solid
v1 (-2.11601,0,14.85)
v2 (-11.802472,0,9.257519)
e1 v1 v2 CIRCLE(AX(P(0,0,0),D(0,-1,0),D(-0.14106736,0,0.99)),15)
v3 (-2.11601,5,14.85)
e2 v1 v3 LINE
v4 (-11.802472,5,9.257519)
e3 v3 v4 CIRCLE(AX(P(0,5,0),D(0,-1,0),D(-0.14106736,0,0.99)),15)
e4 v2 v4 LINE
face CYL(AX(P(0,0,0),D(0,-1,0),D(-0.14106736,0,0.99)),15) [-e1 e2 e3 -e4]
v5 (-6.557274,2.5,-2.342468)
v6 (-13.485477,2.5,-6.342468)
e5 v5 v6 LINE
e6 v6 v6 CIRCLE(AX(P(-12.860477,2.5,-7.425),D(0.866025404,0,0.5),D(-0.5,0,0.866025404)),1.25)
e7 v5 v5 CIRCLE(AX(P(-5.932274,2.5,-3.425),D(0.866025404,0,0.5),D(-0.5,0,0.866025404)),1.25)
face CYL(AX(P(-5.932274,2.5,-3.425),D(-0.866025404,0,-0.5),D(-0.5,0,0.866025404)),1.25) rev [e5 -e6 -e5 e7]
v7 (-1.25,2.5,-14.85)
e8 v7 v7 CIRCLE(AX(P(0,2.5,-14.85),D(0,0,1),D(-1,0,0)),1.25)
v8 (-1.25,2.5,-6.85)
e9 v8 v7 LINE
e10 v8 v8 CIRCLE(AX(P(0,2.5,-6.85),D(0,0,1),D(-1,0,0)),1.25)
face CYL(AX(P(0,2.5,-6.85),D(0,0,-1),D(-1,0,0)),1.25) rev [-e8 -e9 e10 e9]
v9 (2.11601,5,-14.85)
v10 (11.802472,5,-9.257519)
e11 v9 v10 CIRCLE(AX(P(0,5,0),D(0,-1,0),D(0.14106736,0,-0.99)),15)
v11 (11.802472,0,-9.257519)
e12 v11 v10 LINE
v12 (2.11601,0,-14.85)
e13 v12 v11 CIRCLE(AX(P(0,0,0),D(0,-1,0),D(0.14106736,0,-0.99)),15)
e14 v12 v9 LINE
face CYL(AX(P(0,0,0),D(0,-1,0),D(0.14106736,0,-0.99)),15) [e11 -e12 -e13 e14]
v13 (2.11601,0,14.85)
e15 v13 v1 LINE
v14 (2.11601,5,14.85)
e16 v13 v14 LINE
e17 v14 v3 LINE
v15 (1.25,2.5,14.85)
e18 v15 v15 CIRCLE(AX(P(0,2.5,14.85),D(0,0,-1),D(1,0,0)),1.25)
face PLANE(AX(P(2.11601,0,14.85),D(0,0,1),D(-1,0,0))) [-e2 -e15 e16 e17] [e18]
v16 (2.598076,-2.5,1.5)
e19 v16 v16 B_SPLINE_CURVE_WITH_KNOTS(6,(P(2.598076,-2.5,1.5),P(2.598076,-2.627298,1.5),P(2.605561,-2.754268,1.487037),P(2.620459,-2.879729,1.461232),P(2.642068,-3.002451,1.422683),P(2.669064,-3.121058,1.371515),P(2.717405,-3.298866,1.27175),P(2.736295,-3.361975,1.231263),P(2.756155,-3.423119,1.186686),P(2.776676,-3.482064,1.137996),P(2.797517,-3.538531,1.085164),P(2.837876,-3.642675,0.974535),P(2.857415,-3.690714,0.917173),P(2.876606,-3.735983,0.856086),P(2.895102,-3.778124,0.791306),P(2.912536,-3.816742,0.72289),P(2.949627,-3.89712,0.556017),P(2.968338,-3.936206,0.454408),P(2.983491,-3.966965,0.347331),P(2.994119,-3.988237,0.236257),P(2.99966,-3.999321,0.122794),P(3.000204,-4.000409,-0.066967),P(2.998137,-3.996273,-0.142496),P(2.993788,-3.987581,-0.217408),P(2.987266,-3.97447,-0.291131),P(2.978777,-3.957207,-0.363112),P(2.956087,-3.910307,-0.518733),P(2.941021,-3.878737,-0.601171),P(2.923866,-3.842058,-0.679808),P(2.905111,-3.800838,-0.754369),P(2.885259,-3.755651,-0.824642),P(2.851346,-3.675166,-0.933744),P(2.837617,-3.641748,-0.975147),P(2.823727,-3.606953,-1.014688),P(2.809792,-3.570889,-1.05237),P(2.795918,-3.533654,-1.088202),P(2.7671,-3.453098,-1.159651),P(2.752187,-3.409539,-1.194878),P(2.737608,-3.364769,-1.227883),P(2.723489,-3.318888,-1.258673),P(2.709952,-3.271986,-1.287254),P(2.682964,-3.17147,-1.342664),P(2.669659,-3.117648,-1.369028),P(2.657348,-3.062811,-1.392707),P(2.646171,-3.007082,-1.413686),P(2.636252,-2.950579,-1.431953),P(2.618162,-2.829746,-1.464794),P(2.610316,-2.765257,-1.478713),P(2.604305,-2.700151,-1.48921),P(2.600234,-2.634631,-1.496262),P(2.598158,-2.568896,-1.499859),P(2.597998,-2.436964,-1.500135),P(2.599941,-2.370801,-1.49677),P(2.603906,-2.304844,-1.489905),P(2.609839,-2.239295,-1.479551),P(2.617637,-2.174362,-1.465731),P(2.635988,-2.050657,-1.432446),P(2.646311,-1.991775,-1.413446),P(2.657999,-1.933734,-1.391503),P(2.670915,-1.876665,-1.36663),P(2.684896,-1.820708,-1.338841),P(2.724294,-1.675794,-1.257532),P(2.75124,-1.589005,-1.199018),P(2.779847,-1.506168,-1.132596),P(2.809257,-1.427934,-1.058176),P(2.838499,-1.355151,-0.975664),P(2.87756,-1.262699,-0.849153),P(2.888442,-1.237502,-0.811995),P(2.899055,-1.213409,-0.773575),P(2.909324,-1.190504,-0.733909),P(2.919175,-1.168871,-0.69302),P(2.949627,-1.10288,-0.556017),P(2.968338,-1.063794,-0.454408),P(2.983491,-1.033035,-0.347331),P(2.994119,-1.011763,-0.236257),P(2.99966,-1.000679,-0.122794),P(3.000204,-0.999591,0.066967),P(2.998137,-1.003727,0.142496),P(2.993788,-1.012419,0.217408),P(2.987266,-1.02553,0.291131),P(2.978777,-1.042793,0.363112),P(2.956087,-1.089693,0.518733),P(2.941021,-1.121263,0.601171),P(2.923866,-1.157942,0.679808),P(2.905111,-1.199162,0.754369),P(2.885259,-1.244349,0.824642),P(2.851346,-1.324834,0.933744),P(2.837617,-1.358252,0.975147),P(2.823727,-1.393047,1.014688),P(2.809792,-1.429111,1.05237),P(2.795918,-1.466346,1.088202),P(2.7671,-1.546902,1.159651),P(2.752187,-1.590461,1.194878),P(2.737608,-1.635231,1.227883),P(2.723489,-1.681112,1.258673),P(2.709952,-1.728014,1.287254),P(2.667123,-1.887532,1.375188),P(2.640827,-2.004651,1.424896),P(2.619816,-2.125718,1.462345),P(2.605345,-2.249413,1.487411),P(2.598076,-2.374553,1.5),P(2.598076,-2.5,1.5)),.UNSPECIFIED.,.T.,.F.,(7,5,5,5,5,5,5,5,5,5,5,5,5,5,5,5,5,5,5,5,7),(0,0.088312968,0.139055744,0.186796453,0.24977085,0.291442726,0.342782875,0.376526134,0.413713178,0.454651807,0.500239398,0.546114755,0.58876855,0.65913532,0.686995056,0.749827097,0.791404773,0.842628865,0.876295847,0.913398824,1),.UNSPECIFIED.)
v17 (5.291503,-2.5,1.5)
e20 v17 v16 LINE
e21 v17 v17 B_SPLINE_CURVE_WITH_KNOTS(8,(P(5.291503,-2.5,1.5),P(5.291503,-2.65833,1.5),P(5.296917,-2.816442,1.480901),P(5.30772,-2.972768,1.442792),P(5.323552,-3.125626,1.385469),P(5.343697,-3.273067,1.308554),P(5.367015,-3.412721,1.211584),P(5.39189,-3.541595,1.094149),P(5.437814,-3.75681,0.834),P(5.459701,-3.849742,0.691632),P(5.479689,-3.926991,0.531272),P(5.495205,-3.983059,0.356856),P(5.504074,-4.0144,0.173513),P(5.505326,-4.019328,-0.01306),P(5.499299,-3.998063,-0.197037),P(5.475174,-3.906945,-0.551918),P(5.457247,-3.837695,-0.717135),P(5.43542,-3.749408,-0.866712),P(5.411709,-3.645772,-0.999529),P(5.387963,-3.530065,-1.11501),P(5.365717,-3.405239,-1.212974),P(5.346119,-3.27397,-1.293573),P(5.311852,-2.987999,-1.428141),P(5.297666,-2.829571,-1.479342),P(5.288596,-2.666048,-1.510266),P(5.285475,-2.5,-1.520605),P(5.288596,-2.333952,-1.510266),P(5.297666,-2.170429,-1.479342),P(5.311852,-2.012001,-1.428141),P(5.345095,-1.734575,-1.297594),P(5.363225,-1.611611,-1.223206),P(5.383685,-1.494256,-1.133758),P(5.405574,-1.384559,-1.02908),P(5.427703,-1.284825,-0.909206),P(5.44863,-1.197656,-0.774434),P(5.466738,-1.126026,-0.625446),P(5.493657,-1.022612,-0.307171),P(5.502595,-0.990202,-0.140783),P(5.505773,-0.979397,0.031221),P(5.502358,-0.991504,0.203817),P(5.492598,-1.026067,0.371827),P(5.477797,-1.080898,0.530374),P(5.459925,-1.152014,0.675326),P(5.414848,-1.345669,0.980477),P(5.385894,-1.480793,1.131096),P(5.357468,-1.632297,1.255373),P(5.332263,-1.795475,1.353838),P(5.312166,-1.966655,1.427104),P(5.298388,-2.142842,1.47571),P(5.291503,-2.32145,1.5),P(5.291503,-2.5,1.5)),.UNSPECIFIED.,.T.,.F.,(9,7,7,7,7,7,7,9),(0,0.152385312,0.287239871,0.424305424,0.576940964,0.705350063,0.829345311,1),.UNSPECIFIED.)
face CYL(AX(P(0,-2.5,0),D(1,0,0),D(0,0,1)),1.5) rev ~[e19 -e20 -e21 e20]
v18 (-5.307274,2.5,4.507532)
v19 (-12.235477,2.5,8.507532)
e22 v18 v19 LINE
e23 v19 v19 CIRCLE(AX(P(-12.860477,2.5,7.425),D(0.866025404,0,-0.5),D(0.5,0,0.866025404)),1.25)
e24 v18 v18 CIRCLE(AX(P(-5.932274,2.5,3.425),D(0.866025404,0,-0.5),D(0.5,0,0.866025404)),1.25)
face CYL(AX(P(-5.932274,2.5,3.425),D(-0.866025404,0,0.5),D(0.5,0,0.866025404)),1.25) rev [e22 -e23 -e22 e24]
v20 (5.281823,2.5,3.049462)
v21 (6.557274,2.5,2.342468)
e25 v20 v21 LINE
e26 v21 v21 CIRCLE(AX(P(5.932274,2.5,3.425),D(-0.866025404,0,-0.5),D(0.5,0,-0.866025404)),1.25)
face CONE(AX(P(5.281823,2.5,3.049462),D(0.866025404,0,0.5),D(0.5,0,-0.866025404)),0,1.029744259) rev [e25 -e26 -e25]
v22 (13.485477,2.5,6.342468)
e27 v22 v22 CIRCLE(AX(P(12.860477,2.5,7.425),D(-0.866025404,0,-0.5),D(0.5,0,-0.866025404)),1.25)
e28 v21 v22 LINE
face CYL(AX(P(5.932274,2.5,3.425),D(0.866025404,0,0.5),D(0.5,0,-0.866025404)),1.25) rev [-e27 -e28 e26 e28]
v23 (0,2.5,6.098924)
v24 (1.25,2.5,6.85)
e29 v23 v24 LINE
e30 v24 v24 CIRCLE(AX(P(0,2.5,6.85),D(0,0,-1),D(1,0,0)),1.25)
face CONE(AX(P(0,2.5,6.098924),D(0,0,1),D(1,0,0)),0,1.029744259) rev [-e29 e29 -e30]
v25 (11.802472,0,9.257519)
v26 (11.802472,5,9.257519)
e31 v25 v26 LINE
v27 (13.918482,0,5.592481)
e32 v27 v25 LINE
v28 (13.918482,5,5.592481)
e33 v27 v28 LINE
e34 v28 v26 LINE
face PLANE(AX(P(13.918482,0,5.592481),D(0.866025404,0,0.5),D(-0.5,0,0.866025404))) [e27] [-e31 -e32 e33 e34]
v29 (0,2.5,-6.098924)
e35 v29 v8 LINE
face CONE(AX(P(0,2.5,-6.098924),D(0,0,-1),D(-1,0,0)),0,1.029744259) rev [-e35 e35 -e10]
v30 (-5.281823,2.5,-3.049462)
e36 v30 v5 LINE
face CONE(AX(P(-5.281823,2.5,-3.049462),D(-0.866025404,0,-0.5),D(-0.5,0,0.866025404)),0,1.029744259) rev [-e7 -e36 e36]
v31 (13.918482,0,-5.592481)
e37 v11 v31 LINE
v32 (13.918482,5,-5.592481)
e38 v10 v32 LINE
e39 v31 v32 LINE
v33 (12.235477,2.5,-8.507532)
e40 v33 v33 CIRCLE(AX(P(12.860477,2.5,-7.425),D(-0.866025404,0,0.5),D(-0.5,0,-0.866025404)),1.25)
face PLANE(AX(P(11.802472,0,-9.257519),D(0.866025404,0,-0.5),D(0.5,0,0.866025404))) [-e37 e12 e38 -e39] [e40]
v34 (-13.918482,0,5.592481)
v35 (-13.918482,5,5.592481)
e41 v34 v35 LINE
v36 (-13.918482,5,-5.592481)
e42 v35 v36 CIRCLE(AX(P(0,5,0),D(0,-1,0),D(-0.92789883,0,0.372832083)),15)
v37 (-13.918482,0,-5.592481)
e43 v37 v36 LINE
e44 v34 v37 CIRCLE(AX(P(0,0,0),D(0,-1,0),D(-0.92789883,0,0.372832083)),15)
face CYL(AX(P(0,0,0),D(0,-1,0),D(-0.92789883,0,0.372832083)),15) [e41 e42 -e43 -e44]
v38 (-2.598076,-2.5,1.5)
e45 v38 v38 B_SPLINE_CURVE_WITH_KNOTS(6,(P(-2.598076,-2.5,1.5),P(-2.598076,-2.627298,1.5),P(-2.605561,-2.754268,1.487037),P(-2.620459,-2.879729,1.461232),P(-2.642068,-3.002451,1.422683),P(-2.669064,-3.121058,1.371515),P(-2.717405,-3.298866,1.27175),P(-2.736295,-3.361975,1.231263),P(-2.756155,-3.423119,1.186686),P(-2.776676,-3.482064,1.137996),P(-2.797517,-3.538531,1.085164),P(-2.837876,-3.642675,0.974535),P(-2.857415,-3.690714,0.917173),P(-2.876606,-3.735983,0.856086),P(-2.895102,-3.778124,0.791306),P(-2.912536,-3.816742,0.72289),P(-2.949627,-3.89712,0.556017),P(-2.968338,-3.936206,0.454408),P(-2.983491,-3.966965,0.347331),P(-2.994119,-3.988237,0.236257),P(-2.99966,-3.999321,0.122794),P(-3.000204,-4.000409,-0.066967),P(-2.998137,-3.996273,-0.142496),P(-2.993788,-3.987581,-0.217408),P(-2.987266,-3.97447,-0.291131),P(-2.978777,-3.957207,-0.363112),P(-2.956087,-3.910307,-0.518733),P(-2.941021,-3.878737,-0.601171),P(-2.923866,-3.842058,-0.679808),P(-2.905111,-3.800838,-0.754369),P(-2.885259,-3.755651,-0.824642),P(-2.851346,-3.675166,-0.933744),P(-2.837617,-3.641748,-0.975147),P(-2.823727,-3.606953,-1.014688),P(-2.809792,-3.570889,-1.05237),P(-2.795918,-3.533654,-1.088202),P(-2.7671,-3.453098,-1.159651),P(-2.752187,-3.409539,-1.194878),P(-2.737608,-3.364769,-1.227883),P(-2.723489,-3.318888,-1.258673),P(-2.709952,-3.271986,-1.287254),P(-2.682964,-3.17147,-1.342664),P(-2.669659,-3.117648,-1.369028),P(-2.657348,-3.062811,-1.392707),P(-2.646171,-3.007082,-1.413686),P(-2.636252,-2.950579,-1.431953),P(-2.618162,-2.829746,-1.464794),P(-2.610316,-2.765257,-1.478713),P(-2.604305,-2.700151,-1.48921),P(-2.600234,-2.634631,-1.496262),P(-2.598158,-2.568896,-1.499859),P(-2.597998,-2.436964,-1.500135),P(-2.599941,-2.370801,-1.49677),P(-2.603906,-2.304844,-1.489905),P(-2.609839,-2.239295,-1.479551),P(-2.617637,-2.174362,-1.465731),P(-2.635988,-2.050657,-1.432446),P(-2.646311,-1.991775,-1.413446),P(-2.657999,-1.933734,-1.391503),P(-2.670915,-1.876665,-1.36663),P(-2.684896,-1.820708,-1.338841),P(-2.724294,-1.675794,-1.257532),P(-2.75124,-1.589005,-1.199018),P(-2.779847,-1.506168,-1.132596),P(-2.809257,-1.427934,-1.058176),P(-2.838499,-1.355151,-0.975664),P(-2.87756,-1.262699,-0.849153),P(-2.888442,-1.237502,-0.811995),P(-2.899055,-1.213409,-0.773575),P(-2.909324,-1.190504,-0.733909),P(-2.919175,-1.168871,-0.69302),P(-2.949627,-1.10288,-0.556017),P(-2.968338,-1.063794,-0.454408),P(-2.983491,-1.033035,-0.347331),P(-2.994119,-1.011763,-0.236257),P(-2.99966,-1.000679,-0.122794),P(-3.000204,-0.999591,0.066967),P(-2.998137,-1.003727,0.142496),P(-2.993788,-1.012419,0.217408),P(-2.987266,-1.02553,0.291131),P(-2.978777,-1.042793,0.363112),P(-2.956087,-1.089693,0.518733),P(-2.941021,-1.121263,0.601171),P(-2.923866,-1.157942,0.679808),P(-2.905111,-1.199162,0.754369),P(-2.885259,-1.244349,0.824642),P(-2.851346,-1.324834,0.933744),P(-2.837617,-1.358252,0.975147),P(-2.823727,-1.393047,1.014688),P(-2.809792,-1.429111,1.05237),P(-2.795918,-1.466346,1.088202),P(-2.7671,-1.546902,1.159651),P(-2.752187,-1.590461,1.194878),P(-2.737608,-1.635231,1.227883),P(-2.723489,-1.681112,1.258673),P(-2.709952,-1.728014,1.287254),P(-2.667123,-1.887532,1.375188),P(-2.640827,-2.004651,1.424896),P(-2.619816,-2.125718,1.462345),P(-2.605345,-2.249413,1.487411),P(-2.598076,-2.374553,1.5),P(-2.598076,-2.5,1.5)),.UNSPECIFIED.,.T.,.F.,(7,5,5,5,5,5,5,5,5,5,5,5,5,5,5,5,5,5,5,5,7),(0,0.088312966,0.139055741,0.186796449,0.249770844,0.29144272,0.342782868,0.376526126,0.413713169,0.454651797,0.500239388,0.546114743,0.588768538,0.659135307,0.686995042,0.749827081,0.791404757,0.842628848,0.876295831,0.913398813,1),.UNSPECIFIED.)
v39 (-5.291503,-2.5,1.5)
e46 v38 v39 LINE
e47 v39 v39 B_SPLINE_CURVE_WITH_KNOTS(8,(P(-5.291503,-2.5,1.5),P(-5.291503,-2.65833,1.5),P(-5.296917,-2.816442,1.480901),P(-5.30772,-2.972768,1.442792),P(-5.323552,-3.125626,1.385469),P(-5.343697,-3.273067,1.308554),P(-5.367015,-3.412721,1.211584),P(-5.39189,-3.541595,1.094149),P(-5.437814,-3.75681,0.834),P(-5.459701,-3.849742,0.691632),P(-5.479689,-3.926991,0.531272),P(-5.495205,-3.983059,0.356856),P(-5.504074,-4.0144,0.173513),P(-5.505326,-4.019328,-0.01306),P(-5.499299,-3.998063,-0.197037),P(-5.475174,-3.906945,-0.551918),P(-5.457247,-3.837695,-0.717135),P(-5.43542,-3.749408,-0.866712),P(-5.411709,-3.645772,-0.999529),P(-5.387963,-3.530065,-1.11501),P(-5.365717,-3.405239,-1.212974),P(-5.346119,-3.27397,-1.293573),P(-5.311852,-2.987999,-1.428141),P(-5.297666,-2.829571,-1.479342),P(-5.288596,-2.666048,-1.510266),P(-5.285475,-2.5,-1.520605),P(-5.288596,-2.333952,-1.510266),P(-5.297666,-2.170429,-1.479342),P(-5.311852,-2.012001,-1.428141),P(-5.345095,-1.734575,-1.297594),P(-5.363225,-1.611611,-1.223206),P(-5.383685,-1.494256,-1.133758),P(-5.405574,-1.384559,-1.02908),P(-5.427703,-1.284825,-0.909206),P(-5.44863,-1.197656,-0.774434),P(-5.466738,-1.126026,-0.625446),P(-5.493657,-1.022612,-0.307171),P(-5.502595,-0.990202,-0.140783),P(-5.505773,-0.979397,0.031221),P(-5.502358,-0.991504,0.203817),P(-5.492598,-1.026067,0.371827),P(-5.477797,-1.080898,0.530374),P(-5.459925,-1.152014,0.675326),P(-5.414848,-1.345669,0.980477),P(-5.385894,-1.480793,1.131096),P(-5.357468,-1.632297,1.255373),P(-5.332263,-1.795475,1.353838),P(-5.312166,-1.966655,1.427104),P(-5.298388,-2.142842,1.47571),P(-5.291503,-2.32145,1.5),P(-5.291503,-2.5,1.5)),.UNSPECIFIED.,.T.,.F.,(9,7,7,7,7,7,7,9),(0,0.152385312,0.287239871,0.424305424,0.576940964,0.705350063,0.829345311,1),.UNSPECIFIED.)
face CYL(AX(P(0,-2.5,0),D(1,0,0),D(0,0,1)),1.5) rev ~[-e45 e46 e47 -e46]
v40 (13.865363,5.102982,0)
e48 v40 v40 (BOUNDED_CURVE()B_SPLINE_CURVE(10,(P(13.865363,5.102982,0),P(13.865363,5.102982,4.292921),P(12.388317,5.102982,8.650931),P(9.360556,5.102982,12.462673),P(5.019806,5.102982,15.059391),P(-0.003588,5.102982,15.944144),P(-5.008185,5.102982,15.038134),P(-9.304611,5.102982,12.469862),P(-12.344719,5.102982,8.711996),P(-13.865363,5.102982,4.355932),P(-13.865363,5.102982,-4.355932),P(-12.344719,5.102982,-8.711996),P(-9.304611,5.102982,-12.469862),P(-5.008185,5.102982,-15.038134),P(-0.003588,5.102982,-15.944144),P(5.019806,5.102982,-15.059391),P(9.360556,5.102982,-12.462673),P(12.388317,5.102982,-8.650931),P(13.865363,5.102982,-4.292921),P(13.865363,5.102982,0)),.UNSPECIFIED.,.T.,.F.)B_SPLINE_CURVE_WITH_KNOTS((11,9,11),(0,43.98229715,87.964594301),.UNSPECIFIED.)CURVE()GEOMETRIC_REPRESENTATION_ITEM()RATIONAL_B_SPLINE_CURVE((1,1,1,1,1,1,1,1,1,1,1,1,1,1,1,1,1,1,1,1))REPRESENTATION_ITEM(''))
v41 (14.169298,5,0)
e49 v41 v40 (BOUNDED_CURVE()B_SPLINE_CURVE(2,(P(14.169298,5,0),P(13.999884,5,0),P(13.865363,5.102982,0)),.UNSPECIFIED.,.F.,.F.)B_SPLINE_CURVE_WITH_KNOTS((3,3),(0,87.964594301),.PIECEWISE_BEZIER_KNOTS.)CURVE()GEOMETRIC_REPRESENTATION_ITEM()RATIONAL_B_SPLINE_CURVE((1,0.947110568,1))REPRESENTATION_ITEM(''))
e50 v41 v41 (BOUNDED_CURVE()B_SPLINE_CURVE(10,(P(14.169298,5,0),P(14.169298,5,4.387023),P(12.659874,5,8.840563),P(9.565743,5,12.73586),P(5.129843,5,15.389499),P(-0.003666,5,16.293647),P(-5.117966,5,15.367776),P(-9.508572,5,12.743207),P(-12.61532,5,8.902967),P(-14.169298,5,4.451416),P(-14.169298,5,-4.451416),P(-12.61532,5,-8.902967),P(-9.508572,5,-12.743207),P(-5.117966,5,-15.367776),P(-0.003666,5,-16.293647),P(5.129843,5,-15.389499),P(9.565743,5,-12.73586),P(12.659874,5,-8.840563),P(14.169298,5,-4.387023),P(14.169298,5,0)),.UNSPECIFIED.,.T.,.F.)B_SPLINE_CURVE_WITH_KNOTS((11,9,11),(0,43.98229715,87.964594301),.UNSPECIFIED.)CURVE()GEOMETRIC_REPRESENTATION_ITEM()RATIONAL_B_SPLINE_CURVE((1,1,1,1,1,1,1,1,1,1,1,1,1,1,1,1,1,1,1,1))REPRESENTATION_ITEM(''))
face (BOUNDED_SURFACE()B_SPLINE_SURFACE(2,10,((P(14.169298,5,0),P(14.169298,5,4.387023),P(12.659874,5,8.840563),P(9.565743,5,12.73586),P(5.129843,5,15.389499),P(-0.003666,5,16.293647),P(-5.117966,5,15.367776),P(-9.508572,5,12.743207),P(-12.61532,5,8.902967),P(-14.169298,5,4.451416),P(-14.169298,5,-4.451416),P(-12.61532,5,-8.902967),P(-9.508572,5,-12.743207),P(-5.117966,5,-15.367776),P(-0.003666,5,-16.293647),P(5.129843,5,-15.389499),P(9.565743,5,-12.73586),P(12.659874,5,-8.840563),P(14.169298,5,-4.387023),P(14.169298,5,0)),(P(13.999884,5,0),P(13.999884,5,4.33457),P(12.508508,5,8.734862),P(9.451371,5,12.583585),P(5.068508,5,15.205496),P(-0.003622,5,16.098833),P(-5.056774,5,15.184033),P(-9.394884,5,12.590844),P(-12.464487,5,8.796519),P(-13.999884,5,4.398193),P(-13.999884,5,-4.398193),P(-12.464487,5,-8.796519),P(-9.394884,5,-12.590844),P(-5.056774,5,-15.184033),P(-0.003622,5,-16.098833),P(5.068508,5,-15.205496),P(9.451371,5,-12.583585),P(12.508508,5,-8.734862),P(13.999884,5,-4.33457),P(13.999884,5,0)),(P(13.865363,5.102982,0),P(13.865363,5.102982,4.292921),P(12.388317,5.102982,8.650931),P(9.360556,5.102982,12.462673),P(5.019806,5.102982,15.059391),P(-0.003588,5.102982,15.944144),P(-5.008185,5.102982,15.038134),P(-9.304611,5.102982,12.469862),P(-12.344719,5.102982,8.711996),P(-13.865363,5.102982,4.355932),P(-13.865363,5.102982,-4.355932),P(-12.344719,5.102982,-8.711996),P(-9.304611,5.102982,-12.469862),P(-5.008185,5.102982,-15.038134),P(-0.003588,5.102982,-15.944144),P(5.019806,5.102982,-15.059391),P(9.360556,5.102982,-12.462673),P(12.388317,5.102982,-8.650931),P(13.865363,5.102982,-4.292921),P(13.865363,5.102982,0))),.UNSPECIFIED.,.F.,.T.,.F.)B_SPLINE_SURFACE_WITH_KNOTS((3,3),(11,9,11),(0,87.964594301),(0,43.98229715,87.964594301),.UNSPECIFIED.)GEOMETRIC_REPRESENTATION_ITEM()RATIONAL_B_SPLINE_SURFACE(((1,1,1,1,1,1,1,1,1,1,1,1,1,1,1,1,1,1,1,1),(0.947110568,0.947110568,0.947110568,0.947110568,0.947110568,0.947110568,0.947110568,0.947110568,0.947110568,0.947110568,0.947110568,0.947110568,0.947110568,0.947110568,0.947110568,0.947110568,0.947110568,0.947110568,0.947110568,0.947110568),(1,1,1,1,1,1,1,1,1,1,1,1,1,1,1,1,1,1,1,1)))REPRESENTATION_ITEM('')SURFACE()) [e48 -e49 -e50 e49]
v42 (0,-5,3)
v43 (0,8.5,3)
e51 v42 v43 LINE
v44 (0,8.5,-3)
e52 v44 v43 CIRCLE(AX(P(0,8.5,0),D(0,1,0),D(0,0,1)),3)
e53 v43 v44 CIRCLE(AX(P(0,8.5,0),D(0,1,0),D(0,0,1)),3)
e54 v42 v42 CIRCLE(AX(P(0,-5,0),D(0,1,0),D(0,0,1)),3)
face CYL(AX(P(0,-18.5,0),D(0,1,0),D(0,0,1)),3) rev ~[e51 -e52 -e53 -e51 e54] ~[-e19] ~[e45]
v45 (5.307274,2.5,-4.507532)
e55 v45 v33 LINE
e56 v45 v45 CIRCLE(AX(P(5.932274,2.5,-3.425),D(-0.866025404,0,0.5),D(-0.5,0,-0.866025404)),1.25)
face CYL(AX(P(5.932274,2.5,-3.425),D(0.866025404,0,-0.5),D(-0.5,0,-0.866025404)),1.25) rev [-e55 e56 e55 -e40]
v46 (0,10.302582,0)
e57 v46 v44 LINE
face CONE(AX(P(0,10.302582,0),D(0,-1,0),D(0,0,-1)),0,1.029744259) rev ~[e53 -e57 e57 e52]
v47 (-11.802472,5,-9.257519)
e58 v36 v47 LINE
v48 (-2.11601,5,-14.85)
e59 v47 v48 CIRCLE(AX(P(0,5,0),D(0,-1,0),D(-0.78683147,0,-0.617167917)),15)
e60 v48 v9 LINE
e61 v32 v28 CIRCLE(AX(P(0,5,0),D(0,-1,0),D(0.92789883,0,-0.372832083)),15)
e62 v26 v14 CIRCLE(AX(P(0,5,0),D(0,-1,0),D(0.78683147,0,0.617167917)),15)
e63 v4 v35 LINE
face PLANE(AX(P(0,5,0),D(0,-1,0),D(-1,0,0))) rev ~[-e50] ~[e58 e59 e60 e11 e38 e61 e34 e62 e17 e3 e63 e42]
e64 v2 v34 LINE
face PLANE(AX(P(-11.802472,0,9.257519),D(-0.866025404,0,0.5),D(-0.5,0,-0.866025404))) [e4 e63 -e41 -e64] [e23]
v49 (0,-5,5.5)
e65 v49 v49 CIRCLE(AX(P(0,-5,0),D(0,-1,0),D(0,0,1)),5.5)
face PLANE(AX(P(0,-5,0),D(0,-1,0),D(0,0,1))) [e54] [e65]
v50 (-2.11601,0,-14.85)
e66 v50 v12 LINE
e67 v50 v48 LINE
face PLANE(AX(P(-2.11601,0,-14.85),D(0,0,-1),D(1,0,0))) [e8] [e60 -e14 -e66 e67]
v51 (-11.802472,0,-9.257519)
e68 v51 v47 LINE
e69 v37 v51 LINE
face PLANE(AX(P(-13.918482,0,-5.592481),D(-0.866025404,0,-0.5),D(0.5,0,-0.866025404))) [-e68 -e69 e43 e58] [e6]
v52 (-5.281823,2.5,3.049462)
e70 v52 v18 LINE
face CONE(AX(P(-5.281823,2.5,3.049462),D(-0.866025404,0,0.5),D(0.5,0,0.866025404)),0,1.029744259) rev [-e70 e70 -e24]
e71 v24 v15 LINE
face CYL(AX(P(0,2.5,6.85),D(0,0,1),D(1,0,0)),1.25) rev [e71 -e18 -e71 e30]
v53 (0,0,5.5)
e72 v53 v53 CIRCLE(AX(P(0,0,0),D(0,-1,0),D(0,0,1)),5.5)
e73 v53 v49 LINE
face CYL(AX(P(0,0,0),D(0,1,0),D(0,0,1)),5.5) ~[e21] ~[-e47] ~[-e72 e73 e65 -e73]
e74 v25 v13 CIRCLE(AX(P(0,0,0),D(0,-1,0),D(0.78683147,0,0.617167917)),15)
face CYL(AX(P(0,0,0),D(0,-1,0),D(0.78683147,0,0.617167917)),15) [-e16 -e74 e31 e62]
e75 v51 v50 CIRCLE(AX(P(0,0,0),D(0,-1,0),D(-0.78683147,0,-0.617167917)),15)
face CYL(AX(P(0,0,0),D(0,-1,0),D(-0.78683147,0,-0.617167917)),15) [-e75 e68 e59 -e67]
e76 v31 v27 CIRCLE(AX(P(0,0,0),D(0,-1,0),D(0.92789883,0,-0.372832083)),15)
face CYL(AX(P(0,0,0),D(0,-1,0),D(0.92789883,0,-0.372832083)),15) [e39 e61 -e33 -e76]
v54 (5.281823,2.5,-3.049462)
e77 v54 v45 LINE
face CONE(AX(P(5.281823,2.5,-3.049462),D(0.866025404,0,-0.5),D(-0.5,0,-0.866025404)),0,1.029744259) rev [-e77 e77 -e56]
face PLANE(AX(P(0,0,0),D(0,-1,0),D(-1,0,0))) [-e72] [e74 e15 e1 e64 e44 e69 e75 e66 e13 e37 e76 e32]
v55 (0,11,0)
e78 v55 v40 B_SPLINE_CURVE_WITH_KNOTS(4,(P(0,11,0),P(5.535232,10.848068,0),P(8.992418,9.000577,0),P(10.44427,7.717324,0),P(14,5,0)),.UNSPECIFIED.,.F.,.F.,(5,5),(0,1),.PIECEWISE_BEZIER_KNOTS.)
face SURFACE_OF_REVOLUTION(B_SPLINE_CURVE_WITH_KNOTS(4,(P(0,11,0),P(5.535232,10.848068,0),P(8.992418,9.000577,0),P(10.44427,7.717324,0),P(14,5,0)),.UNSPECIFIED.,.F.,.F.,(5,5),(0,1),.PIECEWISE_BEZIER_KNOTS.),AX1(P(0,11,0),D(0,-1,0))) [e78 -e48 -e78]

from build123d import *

# Parameters (mm, degrees)
EXTRUDE_1_DEPTH                         = 5
SKETCH_3_R                              = 5.5
EXTRUDE_2_DEPTH                         = 5
CUT_EXTRUDE_1083_REACH                  = 23.692
CUT_EXTRUDE_1083_END_RADIUS             = 5.5
SKETCH_6_R                              = 1.5
CUT_EXTRUDE_1083_DIRECTION_2_REACH      = 23.692
CUT_EXTRUDE_1083_DIRECTION_2_END_RADIUS = 5.5
FILLET_1_R                              = 0.5
PATTERN_CIRCULAR_1_COUNT                = 6
HOLE_WIZARD_6_0_6_1_D                   = 6
HOLE_WIZARD_6_0_6_1_DEPTH               = 13.5
HOLE_WIZARD_6_0_6_1_TIP                 = 1.802581857


with BuildPart() as part:
    # 草图1 → 凸台-拉伸1 (new body)
    with BuildSketch(Plane(origin=(0, 0, 0), x_dir=(1, 0, 0), z_dir=(0, 1, 0))):
        with BuildLine():
            Line((11.802472048, 9.257518758), (13.918482445, 5.592481242))
            ThreePointArc((13.918482445, 5.592481242), (15, 0), (13.918482445, -5.592481242))
            Line((13.918482445, -5.592481242), (11.802472048, -9.257518758))
            ThreePointArc((11.802472048, -9.257518758), (7.5, -12.990381057), (2.116010397, -14.85))
            Line((2.116010397, -14.85), (-2.116010397, -14.85))
            ThreePointArc((-2.116010397, -14.85), (-7.5, -12.990381057), (-11.802472048, -9.257518758))
            Line((-11.802472048, -9.257518758), (-13.918482445, -5.592481242))
            ThreePointArc((-13.918482445, -5.592481242), (-15, 0), (-13.918482445, 5.592481242))
            Line((-13.918482445, 5.592481242), (-11.802472048, 9.257518758))
            ThreePointArc((-11.802472048, 9.257518758), (-7.5, 12.990381057), (-2.116010397, 14.85))
            Line((-2.116010397, 14.85), (2.116010397, 14.85))
            ThreePointArc((2.116010397, 14.85), (7.5, 12.990381057), (11.802472048, 9.257518758))
        make_face()
    extrude(amount=EXTRUDE_1_DEPTH)

    # 草图3 → 凸台-拉伸2 (add)
    with BuildSketch(Plane.XZ):
        with Locations(Location((0, 0, 0), (0, 0, 90))):
            Circle(SKETCH_3_R)
    extrude(amount=EXTRUDE_2_DEPTH)

    # Cut-Extrude 1083: up to this cylinder (the profile starts inside it)
    cut_extrude_1083_end = Plane(origin=(0, -2.5, 0), z_dir=(0, 1, 0)) * Cylinder(CUT_EXTRUDE_1083_END_RADIUS, 59.384, mode=Mode.PRIVATE)
    # 草图6 → Cut-Extrude 1083 (cut, up to the surface)
    with BuildSketch(Plane(origin=(0, 0, 0), x_dir=(0, 0, -1), z_dir=(1, 0, 0)), mode=Mode.PRIVATE) as cut_extrude_1083_sk1:
        with Locations(Location((0, -2.5, 0), (0, 0, 180))):
            Circle(SKETCH_6_R)
    cut_extrude_1083_tool1 = extrude(cut_extrude_1083_sk1.sketch, amount=-CUT_EXTRUDE_1083_REACH, mode=Mode.PRIVATE) & cut_extrude_1083_end
    add(cut_extrude_1083_tool1.solids().sort_by_distance((0, -2.5, 0))[0], mode=Mode.SUBTRACT)

    # Cut-Extrude 1083 direction 2: up to this cylinder (the profile starts inside it)
    cut_extrude_1083_direction_2_end = Plane(origin=(0, -2.5, 0), z_dir=(0, 1, 0)) * Cylinder(CUT_EXTRUDE_1083_DIRECTION_2_END_RADIUS, 59.384, mode=Mode.PRIVATE)
    # 草图6 → Cut-Extrude 1083 direction 2 (cut, up to the surface)
    with BuildSketch(Plane(origin=(0, 0, 0), x_dir=(0, 0, -1), z_dir=(1, 0, 0)), mode=Mode.PRIVATE) as cut_extrude_1083_direction_2_sk1:
        with Locations(Location((0, -2.5, 0), (0, 0, 180))):
            Circle(SKETCH_6_R)
    cut_extrude_1083_direction_2_tool1 = extrude(cut_extrude_1083_direction_2_sk1.sketch, amount=CUT_EXTRUDE_1083_DIRECTION_2_REACH, mode=Mode.PRIVATE) & cut_extrude_1083_direction_2_end
    add(cut_extrude_1083_direction_2_tool1.solids().sort_by_distance((0, -2.5, 0))[0], mode=Mode.SUBTRACT)

    # 草图7 → 旋转1 (revolve)
    with BuildSketch(Plane.XY):
        with BuildLine():
            Line((0, 11), (0, 5))
            Line((0, 5), (14, 5))
            add(Edge.make_bspline(
                [(0, 11), (5.535231894, 10.848067736), (8.992417741, 9.000576886), (10.444270344, 7.717324106), (14, 5)],
                knots=[0, 0, 0, 0, 0, 1, 1, 1, 1, 1], degree=4))
        make_face()
    revolve(axis=Axis((0, 11, 0), (0, -1, 0)))

    # 圆角1
    fillet_1_edges = [part.edges().sort_by_distance(p)[0] for p in [
        (-14, 5, 0),
    ]]
    fillet(fillet_1_edges, radius=FILLET_1_R)

    # 草图8 → M3 螺纹孔1 (revolve, cut)
    with BuildSketch(Plane(origin=(12.860477246, 2.5, 7.425), x_dir=(0.4999999999999996, 0, -0.8660254037844389), z_dir=(0, 1, 0))):
        Polygon((0, 0), (0, 8.751075774), (1.25, 8), (1.25, 0), align=None)
    hole_wizard_m3_1 = revolve(axis=Axis((18.35973856, 2.5, 10.6), (-0.8660254037844389, 0, -0.49999999999999967)), mode=Mode.SUBTRACT)

    # 阵列(圆周)1: M3 螺纹孔1 ×6 about axis
    pattern_circular_1_axis = Axis((0, 0, 0), (0, 1, 0))
    for i in range(1, PATTERN_CIRCULAR_1_COUNT):
        add(hole_wizard_m3_1.rotate(pattern_circular_1_axis, i * 360 / PATTERN_CIRCULAR_1_COUNT), mode=Mode.SUBTRACT)

    # Ø6.0 (6) 直径孔1
    with Locations(Plane(origin=(0, -5, 0), x_dir=(0, 0, -1), z_dir=(0, -1, 0))):
        with Locations((0, 0)):
            Hole(HOLE_WIZARD_6_0_6_1_D / 2, depth=HOLE_WIZARD_6_0_6_1_DEPTH)
            with Locations((0, 0, -(HOLE_WIZARD_6_0_6_1_DEPTH + HOLE_WIZARD_6_0_6_1_TIP / 2))):  # 118° drill point
                Cone(0, HOLE_WIZARD_6_0_6_1_D / 2, HOLE_WIZARD_6_0_6_1_TIP, mode=Mode.SUBTRACT)


solid = part.part
